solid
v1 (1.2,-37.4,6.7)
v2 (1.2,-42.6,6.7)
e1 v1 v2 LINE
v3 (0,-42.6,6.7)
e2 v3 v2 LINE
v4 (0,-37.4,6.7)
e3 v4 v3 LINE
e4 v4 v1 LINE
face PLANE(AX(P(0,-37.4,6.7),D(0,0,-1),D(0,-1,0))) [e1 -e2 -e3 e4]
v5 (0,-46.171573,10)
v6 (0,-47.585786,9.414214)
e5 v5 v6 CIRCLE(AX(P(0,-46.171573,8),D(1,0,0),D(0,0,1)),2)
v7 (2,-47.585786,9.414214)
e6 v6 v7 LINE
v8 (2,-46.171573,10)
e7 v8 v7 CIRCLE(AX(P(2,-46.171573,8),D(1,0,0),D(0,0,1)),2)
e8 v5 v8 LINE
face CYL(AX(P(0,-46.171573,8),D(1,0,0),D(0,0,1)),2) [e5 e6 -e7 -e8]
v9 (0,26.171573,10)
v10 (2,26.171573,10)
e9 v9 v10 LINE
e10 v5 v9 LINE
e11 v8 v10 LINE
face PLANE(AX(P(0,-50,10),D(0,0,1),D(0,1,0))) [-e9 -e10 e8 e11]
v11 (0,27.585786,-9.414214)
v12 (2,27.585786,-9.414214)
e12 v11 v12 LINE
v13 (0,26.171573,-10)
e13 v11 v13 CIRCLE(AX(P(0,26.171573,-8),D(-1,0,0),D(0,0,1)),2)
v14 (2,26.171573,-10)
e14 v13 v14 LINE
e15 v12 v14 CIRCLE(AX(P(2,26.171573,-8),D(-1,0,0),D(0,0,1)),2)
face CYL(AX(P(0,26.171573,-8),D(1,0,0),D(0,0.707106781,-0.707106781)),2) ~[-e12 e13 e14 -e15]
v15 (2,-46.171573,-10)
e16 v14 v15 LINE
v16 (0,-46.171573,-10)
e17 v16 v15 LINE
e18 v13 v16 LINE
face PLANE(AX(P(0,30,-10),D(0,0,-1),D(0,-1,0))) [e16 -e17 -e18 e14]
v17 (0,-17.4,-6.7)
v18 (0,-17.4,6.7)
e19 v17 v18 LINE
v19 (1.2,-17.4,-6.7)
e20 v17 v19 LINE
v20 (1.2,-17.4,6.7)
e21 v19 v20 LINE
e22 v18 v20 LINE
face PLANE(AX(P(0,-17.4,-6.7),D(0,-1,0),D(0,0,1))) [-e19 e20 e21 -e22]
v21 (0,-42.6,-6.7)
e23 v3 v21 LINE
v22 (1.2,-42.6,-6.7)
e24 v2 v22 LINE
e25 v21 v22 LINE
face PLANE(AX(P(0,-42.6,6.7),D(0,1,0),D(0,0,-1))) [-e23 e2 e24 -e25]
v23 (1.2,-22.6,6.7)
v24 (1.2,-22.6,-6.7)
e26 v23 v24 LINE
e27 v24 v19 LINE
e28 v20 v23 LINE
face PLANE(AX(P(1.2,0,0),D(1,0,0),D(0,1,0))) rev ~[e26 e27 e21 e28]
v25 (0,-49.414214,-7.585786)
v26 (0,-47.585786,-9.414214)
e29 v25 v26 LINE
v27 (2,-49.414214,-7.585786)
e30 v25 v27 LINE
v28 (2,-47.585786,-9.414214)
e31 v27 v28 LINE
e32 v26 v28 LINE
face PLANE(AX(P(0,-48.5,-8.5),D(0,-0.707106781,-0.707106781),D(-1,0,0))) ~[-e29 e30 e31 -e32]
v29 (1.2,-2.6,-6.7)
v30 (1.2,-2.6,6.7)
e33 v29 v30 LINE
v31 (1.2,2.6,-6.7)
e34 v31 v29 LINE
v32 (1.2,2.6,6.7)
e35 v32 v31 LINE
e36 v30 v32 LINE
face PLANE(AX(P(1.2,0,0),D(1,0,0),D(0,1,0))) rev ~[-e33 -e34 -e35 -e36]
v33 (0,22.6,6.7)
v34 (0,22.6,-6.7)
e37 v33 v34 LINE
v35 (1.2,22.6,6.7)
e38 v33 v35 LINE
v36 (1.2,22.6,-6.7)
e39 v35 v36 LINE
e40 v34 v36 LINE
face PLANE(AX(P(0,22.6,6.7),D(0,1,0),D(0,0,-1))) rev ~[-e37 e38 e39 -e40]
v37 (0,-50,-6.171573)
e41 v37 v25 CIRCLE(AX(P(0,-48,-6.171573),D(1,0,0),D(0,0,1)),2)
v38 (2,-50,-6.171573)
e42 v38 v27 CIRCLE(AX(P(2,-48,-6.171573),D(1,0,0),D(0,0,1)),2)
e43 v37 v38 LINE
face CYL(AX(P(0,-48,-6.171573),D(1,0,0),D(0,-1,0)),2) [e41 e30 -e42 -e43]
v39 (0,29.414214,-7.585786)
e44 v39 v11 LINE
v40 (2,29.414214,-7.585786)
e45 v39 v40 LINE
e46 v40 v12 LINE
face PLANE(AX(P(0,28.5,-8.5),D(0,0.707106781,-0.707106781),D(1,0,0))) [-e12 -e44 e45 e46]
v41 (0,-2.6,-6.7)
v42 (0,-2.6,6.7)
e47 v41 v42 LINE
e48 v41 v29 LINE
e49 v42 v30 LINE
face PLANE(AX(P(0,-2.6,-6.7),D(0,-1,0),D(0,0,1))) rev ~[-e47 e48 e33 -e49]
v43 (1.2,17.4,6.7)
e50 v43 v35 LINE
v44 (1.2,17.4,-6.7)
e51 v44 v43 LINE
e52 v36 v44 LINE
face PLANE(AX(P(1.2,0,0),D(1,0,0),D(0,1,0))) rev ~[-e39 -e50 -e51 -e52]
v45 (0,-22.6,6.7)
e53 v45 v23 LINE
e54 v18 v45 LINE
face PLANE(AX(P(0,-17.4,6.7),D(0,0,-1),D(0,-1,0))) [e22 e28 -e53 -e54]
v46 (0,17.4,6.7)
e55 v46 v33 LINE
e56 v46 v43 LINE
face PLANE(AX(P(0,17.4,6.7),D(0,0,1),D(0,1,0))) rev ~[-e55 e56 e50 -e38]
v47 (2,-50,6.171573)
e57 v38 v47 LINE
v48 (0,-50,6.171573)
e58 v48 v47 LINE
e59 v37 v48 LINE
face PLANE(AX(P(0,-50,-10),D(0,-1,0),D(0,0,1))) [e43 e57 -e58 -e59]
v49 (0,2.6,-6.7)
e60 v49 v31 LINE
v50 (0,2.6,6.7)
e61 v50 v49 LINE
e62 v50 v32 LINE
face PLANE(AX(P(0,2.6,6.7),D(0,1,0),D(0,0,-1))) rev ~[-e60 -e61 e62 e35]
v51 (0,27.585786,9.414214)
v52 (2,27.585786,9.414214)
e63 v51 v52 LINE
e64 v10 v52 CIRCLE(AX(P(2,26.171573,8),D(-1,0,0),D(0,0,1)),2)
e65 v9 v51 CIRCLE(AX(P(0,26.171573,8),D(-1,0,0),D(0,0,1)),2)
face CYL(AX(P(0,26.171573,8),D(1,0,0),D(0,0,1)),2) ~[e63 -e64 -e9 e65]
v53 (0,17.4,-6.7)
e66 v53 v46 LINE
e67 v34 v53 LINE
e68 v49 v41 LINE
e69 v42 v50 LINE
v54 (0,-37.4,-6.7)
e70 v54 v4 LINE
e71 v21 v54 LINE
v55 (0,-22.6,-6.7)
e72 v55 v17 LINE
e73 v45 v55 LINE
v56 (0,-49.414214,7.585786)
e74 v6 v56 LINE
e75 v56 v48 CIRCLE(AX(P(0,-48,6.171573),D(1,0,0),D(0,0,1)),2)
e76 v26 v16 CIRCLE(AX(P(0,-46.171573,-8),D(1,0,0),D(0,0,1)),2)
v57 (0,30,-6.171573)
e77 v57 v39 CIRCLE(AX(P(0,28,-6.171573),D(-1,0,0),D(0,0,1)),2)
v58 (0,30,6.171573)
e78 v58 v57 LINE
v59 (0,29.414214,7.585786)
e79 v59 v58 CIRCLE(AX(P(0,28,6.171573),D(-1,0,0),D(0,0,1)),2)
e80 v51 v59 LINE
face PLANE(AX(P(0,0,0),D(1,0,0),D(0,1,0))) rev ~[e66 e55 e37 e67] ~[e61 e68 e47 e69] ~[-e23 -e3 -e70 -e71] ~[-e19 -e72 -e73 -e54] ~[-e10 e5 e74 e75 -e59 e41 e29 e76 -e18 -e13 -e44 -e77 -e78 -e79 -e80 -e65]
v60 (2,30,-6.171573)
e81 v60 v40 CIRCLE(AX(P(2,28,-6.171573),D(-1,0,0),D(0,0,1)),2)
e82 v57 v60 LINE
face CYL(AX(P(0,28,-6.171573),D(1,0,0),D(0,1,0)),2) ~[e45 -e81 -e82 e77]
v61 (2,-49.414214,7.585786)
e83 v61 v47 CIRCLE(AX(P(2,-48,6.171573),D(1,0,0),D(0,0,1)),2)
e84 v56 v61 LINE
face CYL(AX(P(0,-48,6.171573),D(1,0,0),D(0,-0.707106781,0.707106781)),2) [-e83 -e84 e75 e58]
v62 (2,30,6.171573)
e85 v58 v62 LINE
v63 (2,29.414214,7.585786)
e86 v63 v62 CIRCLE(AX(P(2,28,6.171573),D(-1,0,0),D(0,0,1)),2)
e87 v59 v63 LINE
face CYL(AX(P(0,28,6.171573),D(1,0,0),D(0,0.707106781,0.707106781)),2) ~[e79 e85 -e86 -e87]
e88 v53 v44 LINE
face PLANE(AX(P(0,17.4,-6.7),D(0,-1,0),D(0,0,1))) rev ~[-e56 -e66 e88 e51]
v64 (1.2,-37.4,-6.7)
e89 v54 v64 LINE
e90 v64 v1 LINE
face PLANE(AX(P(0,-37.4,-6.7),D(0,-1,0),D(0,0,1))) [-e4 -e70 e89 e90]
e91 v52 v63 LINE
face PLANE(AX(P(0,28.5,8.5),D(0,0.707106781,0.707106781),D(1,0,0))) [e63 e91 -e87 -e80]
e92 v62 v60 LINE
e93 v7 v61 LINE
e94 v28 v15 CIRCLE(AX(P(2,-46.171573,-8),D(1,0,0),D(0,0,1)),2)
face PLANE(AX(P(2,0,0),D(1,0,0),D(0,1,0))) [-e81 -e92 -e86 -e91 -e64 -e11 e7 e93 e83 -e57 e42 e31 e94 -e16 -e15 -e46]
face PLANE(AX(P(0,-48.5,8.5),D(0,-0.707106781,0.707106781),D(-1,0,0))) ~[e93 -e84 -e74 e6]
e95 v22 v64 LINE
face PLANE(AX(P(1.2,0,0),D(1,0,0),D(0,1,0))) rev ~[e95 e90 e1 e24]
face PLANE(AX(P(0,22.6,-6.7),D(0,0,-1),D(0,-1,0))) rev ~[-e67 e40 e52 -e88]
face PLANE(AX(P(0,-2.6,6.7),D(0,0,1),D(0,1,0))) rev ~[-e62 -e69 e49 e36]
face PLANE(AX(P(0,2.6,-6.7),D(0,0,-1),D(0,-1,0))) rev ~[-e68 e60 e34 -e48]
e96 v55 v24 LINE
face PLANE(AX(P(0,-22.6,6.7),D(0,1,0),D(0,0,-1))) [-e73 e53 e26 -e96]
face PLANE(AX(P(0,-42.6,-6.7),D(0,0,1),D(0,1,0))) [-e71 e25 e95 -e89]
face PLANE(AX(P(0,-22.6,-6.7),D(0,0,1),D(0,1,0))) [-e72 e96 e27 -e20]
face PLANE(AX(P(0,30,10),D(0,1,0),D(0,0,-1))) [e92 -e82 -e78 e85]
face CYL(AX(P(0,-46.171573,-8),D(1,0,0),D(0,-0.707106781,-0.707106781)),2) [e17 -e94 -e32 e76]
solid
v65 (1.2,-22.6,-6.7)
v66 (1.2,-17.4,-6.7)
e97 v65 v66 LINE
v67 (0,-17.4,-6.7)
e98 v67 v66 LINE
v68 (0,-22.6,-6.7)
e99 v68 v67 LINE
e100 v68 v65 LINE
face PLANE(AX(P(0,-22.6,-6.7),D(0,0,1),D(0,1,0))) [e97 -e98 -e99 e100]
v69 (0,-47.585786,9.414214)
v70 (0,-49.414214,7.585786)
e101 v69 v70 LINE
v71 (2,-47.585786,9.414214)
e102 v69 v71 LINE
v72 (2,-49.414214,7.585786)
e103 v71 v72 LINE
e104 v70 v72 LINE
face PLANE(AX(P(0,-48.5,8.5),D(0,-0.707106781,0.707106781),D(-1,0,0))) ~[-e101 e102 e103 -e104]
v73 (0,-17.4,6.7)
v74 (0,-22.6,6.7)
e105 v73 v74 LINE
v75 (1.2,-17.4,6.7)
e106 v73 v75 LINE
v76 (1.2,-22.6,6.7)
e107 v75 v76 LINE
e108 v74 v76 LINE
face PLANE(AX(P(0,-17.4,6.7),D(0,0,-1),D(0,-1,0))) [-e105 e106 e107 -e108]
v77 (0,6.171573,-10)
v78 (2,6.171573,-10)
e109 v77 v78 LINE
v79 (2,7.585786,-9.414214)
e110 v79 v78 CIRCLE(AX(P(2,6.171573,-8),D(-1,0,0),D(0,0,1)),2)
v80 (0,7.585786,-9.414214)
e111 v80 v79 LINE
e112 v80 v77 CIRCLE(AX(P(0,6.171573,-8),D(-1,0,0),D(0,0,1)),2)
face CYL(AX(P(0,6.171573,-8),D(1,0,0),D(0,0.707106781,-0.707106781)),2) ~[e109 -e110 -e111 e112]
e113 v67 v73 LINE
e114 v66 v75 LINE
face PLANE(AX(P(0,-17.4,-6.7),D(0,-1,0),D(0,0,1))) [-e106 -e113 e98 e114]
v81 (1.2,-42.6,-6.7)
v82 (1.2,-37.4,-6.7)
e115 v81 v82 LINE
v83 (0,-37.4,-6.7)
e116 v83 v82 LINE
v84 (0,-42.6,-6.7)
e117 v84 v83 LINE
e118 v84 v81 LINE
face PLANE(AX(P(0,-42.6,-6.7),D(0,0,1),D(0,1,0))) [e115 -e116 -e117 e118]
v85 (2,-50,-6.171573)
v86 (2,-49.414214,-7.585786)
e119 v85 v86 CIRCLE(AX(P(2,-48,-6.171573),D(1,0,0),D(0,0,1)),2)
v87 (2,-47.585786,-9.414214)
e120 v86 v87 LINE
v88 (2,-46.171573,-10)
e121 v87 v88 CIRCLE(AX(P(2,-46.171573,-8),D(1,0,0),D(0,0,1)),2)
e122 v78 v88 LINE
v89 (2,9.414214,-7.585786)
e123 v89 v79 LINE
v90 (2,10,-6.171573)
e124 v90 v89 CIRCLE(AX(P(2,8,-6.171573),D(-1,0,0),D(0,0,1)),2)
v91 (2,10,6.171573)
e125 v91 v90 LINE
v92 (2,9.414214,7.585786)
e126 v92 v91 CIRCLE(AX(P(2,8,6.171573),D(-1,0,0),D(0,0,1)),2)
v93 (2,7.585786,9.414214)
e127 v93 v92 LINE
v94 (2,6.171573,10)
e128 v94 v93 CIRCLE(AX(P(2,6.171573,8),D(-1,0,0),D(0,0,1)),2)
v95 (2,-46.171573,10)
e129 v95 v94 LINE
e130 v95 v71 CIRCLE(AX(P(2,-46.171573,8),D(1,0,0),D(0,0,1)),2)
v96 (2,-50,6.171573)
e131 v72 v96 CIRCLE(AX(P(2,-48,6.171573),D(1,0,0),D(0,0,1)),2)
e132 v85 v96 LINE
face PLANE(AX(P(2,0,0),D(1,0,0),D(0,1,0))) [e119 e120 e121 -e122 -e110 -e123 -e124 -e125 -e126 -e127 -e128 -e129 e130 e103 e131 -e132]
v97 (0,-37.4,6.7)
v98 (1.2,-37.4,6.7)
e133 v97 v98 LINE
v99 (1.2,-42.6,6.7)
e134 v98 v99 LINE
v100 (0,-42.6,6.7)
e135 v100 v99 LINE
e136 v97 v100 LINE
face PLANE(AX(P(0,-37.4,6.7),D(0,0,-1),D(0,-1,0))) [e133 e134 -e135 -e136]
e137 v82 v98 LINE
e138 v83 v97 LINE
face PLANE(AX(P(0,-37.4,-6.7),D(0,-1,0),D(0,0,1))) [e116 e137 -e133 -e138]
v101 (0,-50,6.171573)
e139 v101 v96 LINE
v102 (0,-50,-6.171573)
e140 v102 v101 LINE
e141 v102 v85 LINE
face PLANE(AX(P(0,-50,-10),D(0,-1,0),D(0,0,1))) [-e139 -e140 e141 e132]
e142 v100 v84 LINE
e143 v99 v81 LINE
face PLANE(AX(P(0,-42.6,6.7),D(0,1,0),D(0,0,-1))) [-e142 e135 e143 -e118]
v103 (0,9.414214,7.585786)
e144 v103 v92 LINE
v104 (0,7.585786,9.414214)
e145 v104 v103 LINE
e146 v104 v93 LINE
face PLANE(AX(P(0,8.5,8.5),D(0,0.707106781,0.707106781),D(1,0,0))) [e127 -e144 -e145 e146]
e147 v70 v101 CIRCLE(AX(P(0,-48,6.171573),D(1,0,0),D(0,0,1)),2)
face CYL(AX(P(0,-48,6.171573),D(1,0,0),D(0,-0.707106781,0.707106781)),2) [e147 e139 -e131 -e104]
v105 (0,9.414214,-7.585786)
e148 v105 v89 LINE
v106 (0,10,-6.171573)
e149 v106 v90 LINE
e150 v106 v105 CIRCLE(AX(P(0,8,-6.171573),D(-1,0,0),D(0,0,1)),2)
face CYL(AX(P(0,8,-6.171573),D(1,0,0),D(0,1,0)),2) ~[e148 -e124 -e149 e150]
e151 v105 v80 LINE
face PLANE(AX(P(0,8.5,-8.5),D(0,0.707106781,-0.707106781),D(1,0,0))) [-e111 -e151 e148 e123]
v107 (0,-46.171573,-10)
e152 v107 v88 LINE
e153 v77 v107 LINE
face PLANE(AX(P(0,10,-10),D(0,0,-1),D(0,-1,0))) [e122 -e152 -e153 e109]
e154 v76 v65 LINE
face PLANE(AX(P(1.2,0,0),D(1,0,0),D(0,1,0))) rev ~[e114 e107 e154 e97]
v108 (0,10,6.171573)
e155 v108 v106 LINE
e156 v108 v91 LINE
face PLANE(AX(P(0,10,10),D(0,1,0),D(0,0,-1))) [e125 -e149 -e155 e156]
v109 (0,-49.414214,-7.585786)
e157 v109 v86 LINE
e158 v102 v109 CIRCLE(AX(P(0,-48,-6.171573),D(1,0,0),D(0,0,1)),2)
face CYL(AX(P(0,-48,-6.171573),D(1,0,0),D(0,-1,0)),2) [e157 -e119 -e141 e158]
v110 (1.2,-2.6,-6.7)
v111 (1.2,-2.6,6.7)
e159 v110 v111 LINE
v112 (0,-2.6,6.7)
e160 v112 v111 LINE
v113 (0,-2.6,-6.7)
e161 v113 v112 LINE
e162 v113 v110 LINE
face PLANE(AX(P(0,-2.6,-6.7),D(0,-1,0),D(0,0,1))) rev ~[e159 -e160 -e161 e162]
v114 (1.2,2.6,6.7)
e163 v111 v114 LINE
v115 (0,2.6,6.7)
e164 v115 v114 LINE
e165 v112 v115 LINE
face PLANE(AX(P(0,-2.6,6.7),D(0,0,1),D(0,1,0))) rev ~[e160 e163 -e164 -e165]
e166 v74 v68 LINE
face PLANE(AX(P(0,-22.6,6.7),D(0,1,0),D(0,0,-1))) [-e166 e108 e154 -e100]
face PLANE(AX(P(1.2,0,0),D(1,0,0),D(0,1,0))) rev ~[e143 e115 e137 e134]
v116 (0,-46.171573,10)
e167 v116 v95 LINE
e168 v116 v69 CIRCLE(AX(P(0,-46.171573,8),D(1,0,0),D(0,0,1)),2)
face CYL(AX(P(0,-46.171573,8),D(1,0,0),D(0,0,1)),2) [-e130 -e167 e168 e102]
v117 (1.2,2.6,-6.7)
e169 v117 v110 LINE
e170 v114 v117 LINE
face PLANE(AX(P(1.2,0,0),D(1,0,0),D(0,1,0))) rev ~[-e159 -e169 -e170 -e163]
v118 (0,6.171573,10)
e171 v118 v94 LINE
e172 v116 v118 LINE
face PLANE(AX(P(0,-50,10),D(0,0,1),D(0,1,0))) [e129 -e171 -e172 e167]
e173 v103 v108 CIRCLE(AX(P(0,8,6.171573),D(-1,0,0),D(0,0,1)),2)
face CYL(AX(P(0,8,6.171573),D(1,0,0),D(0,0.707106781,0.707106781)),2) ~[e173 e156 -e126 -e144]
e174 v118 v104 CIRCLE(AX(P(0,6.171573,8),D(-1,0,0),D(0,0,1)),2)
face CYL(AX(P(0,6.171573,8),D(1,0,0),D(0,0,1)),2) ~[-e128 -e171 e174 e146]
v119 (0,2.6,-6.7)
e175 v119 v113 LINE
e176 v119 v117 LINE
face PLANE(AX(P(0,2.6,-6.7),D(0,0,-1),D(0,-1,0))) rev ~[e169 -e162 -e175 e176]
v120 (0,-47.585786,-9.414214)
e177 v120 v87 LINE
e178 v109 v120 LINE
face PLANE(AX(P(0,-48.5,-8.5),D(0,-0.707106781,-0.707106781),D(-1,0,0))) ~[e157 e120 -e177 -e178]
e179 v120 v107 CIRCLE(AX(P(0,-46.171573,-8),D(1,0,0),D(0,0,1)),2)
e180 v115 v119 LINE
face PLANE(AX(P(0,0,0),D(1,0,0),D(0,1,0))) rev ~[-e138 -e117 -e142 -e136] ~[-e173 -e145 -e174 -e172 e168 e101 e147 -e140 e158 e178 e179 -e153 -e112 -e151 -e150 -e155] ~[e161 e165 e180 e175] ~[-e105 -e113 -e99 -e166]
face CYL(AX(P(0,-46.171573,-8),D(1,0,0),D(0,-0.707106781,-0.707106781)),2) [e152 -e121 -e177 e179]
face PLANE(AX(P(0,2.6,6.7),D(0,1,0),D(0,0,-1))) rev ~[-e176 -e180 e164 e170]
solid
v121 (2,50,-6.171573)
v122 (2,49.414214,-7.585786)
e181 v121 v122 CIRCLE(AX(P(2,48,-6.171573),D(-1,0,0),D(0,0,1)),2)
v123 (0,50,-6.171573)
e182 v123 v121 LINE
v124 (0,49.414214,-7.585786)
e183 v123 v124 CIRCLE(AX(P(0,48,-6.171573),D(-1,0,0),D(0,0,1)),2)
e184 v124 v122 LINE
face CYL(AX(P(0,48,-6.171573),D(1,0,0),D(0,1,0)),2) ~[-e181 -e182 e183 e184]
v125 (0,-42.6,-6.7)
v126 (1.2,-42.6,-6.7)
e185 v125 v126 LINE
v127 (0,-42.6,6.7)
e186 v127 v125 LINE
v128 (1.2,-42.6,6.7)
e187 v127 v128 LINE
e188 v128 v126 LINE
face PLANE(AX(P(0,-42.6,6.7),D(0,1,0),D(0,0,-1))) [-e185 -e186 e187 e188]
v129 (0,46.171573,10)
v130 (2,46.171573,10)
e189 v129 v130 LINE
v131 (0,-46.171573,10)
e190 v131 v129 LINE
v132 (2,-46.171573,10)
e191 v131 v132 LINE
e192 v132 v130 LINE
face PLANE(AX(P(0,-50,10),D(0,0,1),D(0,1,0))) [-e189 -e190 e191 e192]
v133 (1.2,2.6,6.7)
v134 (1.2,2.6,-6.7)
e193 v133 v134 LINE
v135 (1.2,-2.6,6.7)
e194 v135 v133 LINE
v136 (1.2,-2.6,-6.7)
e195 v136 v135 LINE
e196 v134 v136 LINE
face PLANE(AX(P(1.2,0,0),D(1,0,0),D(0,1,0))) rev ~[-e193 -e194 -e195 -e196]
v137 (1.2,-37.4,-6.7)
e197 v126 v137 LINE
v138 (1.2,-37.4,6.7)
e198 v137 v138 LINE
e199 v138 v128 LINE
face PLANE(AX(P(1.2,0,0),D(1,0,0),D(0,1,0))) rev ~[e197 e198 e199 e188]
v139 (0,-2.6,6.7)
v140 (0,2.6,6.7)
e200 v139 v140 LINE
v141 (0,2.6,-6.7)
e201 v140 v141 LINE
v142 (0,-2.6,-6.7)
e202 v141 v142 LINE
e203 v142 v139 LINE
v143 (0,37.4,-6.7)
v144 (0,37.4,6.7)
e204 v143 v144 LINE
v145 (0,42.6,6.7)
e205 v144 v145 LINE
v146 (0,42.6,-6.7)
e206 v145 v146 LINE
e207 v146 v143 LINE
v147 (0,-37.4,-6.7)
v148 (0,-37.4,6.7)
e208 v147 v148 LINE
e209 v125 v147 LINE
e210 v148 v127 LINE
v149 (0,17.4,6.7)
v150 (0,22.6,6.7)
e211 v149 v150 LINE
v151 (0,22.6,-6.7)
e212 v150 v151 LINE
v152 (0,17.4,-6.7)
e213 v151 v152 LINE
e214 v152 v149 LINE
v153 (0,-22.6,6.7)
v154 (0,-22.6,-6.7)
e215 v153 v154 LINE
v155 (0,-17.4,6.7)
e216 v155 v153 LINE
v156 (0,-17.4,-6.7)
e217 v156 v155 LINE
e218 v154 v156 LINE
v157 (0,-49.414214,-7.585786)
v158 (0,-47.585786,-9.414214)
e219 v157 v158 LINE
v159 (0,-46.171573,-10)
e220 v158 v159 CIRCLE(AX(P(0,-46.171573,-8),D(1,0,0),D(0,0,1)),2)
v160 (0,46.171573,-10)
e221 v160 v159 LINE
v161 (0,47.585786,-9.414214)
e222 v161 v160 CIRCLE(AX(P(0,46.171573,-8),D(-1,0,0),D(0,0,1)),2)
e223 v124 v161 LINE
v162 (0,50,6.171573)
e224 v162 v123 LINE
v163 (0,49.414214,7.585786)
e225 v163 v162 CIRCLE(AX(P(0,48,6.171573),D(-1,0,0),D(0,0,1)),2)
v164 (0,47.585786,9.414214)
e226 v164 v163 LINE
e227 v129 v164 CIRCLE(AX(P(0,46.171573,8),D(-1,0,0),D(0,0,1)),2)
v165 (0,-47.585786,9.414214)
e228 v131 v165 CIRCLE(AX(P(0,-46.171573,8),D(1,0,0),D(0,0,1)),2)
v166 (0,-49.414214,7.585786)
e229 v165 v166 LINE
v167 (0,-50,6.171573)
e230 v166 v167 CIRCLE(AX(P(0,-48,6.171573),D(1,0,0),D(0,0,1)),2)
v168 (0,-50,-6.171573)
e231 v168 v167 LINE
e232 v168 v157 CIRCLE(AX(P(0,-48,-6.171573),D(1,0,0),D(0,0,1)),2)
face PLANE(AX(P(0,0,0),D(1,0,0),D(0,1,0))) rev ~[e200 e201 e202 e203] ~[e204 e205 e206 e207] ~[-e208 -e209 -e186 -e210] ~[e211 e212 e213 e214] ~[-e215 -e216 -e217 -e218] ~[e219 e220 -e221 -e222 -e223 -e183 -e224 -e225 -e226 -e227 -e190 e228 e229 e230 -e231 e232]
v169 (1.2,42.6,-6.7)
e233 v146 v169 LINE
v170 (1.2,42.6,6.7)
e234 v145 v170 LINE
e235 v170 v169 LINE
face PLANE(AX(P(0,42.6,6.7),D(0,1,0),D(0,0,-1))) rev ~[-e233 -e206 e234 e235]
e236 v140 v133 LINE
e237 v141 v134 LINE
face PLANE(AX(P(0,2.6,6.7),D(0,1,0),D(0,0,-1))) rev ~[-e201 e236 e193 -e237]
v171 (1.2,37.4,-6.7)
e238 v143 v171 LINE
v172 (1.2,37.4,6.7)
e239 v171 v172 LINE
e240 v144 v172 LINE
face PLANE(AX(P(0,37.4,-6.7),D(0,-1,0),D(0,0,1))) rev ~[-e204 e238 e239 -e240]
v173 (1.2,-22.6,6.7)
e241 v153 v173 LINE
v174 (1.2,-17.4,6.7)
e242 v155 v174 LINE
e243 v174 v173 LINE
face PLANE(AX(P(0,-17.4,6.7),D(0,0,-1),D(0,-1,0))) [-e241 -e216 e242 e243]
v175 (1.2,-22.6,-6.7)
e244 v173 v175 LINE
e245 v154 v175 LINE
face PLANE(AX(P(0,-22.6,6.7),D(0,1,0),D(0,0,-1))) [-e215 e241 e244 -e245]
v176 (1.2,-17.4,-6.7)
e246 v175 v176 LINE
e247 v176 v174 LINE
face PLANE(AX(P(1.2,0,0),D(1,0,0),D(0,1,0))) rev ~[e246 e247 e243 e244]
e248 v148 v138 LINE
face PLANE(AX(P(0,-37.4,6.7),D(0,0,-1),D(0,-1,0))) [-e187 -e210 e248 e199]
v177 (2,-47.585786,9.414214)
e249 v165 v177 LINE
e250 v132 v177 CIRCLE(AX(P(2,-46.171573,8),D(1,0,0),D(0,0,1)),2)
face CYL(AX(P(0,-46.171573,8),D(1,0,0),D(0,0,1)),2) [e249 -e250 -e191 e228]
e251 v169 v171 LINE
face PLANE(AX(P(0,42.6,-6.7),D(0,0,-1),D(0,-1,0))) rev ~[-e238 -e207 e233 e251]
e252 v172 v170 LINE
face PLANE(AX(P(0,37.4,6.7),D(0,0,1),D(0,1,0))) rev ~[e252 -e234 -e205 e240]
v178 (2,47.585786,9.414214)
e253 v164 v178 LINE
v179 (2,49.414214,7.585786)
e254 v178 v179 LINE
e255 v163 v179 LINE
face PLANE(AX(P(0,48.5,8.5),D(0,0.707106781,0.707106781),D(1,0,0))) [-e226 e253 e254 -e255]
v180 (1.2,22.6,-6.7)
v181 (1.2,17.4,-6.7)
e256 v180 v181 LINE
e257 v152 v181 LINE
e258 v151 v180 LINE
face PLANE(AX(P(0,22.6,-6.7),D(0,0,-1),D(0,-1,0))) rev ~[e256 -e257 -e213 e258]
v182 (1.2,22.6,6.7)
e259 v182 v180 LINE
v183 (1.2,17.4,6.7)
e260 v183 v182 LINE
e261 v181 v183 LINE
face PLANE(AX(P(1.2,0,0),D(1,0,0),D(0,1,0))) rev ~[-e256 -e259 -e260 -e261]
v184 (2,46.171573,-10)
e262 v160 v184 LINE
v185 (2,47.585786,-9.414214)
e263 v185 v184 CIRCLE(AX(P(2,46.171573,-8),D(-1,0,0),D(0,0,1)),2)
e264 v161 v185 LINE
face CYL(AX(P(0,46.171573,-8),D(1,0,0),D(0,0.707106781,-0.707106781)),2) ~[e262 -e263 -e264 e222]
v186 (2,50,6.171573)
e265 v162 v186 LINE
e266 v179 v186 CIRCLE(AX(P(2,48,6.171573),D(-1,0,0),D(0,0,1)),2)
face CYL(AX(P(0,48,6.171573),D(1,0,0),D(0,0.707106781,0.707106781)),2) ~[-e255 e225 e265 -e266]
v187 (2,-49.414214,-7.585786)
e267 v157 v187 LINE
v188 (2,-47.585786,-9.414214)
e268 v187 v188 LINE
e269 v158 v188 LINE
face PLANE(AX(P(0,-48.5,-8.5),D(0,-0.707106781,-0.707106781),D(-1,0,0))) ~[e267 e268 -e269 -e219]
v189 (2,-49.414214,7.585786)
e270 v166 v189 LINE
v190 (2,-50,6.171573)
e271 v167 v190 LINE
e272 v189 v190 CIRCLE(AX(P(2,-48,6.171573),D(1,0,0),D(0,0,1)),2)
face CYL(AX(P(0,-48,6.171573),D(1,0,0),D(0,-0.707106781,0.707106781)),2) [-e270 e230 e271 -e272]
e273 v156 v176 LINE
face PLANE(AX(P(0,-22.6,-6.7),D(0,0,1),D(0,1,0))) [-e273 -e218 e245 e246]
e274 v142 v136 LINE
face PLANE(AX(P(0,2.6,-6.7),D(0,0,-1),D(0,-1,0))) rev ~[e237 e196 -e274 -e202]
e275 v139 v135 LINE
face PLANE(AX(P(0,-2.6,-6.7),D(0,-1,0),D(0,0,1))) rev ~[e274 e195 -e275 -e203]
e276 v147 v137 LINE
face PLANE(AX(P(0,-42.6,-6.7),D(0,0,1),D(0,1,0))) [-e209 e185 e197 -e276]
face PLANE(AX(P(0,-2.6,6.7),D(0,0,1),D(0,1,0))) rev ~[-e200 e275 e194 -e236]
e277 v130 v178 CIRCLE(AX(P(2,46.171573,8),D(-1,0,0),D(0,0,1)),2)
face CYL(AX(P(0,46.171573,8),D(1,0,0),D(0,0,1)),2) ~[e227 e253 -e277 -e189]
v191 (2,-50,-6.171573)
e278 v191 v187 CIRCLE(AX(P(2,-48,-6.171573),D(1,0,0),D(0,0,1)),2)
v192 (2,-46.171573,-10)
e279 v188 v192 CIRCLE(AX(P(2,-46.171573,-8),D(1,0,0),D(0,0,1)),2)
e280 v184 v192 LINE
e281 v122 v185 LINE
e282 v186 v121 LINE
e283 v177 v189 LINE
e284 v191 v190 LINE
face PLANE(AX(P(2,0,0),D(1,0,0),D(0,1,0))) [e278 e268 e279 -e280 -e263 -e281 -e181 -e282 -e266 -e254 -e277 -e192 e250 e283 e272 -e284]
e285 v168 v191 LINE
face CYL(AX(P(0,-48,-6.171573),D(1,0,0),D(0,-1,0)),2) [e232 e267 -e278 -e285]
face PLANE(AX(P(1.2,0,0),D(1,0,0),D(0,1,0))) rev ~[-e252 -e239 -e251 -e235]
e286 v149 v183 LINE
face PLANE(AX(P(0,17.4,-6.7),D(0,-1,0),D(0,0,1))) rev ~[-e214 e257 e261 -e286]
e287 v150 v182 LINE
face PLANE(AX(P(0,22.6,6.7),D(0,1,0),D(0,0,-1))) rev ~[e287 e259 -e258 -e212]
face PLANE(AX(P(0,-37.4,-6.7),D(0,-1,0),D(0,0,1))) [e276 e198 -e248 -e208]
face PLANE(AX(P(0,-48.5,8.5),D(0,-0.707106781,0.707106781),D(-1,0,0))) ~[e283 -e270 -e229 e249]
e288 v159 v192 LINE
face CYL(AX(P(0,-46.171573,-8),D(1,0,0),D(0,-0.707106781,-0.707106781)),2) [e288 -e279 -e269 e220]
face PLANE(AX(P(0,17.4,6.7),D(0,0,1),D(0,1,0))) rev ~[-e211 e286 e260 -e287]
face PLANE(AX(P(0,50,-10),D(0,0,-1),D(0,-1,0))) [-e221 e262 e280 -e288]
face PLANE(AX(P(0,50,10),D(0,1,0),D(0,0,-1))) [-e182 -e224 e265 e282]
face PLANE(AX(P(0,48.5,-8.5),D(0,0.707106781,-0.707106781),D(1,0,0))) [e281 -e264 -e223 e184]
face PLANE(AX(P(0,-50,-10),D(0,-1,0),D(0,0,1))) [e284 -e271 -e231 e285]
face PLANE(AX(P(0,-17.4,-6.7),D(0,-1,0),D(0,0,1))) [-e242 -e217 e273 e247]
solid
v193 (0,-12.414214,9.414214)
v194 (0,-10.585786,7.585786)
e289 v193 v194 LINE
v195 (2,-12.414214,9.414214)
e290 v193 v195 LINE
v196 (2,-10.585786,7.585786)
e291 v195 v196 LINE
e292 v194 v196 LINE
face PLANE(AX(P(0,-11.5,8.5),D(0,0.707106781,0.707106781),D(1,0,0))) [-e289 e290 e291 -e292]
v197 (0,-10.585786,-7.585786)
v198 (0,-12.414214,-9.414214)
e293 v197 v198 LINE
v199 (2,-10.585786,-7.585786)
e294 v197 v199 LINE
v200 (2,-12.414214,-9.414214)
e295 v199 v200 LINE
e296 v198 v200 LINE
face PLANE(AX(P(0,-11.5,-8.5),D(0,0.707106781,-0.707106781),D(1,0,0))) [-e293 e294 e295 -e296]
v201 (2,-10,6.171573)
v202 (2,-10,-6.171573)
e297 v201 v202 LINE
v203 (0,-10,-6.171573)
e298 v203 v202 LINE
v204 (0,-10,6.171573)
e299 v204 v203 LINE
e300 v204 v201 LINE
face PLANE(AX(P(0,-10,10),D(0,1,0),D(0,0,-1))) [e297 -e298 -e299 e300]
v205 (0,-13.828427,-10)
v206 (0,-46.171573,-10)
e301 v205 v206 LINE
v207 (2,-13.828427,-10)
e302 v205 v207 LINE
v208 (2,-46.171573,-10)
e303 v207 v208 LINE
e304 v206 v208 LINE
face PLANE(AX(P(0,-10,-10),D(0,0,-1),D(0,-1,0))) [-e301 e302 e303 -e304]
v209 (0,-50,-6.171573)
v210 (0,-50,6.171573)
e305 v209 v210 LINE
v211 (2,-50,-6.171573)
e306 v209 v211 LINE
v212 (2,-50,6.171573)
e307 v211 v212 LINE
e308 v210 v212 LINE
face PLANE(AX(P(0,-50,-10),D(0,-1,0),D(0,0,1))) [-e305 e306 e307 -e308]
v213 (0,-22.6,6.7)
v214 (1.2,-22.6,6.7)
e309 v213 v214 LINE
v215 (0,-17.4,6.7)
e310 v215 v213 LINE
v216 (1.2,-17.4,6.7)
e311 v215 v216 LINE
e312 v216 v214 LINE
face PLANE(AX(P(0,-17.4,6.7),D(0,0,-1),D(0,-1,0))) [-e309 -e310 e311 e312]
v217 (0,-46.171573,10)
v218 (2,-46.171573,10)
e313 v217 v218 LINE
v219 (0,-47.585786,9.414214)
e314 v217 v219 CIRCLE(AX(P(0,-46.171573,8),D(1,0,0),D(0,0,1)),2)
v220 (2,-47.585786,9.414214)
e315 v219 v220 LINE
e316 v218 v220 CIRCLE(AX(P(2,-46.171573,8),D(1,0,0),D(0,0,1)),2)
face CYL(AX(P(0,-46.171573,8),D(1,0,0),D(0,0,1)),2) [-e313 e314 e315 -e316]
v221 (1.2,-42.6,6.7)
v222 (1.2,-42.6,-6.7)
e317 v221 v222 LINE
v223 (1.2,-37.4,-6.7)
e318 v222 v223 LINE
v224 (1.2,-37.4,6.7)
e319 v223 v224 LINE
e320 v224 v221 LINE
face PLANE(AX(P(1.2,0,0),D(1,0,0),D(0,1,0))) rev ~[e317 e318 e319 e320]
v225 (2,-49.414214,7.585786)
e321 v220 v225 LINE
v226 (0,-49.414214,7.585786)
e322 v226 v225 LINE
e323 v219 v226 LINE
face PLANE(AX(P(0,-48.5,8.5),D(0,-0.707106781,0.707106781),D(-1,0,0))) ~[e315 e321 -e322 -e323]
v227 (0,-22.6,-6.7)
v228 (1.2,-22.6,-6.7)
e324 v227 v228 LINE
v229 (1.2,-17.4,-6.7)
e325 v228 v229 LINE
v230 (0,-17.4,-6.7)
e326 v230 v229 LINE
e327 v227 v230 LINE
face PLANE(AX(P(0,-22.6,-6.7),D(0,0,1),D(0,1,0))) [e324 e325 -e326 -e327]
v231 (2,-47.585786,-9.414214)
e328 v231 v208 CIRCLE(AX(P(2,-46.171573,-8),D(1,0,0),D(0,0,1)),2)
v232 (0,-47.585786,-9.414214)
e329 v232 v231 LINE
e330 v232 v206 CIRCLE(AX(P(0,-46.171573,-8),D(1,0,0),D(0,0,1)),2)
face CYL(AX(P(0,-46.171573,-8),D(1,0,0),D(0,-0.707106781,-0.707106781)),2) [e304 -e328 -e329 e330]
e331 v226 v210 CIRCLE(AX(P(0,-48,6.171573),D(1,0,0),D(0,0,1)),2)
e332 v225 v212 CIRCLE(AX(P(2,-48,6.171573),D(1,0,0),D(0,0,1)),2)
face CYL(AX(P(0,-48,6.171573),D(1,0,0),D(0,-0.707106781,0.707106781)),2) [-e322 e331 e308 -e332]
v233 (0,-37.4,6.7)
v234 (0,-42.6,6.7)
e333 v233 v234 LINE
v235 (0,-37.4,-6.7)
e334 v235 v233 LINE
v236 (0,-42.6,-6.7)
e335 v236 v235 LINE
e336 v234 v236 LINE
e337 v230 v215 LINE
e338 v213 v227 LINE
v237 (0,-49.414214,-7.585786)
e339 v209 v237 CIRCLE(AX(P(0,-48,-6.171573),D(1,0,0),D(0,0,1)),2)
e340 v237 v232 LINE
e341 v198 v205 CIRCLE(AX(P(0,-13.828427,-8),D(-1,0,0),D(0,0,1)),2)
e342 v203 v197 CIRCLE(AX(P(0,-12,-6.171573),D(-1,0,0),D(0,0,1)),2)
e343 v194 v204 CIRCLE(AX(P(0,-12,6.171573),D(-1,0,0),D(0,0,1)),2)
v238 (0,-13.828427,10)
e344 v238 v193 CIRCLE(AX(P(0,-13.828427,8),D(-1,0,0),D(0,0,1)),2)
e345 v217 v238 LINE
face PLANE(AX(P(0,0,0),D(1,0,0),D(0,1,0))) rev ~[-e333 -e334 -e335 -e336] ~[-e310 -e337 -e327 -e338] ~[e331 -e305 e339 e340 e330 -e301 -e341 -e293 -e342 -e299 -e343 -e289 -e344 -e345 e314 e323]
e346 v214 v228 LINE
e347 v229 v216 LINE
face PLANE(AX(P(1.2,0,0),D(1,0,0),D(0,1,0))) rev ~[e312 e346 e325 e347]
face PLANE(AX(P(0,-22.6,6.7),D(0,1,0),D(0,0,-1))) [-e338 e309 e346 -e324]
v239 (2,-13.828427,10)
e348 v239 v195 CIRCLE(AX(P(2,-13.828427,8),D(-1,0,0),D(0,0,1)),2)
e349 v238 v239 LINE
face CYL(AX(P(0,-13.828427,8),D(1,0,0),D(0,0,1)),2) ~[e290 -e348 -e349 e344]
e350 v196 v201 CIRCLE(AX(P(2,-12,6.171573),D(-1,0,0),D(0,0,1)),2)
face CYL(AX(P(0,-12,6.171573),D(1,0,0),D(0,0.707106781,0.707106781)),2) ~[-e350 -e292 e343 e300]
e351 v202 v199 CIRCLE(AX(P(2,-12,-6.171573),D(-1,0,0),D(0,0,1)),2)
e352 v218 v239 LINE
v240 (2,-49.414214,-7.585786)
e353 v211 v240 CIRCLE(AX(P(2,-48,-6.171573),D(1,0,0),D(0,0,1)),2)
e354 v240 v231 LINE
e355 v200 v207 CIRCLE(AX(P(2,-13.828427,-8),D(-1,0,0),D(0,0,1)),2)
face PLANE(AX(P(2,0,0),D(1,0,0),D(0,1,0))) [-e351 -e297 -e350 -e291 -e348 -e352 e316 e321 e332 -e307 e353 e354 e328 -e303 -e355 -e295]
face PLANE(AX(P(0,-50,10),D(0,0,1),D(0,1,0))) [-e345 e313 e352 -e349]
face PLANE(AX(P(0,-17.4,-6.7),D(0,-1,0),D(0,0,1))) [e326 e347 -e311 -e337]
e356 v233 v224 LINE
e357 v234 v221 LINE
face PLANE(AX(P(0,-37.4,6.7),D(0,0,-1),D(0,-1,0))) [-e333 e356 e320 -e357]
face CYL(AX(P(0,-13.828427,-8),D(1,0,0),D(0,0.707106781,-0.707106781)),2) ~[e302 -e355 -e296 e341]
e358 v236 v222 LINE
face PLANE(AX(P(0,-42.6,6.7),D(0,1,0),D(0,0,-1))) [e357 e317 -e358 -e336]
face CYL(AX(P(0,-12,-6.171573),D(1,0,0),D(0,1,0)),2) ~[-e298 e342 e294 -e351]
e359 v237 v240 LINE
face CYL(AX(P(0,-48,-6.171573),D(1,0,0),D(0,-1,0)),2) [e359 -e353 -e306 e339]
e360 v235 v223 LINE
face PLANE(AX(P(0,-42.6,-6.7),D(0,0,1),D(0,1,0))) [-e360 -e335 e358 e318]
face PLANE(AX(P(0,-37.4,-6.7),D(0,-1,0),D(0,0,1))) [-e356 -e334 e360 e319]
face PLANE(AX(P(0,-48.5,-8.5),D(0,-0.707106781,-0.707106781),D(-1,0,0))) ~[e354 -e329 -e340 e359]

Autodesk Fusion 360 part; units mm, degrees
sketch "SlotLayout" plane through (0, 0, 0) normal (1, 0, 0) x (0, 1, 0)
  line L0 (-22.4, 25) -> (-22.4, 15)
  line L1 (82.4, 5) -> (82.4, -5)
  line L2 (-37.6, -5) -> (-37.6, 5)
  line L3 (-80, 5) -> (-80, -5) construction
  line L4 (-97.6, 15) -> (-97.6, 25)
  line L5 (2.4, -5) -> (2.4, 5)
  arc A0 (-77.6, 5) -> (-82.4, 5) centre (-80, 5) ccw
  arc A1 (22.4, 25) -> (17.6, 25) centre (20, 25) ccw
  arc A2 (-97.6, 25) -> (-102.4, 25) centre (-100, 25) ccw
  arc A3 (97.6, 15) -> (102.4, 15) centre (100, 15) ccw
  line L6 (-60, 25) -> (-60, 15) construction
  line L7 (-77.6, -5) -> (-77.6, 5)
  arc A4 (77.6, -5) -> (82.4, -5) centre (80, -5) ccw
  line L8 (-40, 5) -> (-40, -5) construction
  line L9 (-57.6, 15) -> (-57.6, 25)
  line L10 (-62.4, 25) -> (-62.4, 15)
  line L11 (-102.4, 25) -> (-102.4, 15)
  line L12 (97.6, 15) -> (97.6, 25)
  arc A5 (-102.4, 15) -> (-97.6, 15) centre (-100, 15) ccw
  line L13 (20, 25) -> (20, 15) construction
  line L14 (22.4, 25) -> (22.4, 15)
  line L15 (-80, 0) -> (0, 0) construction
  line L16 (62.4, 25) -> (62.4, 15)
  line L17 (42.4, 5) -> (42.4, -5)
  arc A6 (2.5, 5) -> (-2.5, 5) centre (0, 5) ccw
  arc A7 (2.4, 5) -> (-2.4, 5) centre (0, 5) ccw
  line L18 (80, 5) -> (80, -5) construction
  arc A8 (82.4, 5) -> (77.6, 5) centre (80, 5) ccw
  arc A9 (-2.5, -5) -> (2.5, -5) centre (0, -5) ccw
  arc A10 (57.6, 15) -> (62.4, 15) centre (60, 15) ccw
  arc A11 (62.4, 25) -> (57.6, 25) centre (60, 25) ccw
  line L19 (17.6, 15) -> (17.6, 25)
  line L20 (-20, 25) -> (-20, 15) construction
  line L21 (-42.4, 5) -> (-42.4, -5)
  line L22 (60, 25) -> (60, 15) construction
  arc A12 (42.4, 5) -> (37.6, 5) centre (40, 5) ccw
  line L23 (-100, 25) -> (-100, 15) construction
  line L24 (100, 25) -> (100, 15) construction
  arc A13 (-57.6, 25) -> (-62.4, 25) centre (-60, 25) ccw
  arc A14 (37.6, -5) -> (42.4, -5) centre (40, -5) ccw
  line L25 (40, 5) -> (40, -5) construction
  line L26 (-17.6, 15) -> (-17.6, 25)
  arc A15 (-17.6, 25) -> (-22.4, 25) centre (-20, 25) ccw
  line L27 (-82.4, 5) -> (-82.4, -5)
  line L28 (-2.5, 5) -> (-2.5, -5)
  line L29 (-2.4, 5) -> (-2.4, -5)
  line L30 (102.4, 25) -> (102.4, 15)
  arc A16 (17.6, 15) -> (22.4, 15) centre (20, 15) ccw
  arc A17 (-22.4, 15) -> (-17.6, 15) centre (-20, 15) ccw
  line L31 (37.6, -5) -> (37.6, 5)
  line L32 (0, 5) -> (0, -5) construction
  arc A18 (-62.4, 15) -> (-57.6, 15) centre (-60, 15) ccw
  arc A19 (-42.4, -5) -> (-37.6, -5) centre (-40, -5) ccw
  arc A20 (-2.4, -5) -> (2.4, -5) centre (0, -5) ccw
  arc A21 (102.4, 25) -> (97.6, 25) centre (100, 25) ccw
  arc A22 (-82.4, -5) -> (-77.6, -5) centre (-80, -5) ccw
  arc A23 (-37.6, 5) -> (-42.4, 5) centre (-40, 5) ccw
  line L33 (77.6, -5) -> (77.6, 5)
  line L34 (57.6, 15) -> (57.6, 25)
  line L35 (2.5, -5) -> (2.5, 5)
  point P0 (-20, 20)
  point P1 (-40, 0)
  dimension "d9" = -40
  dimension "d10" = 0
  dimension "d255" = 0.1
  dimension "d22" = 10
  dimension "d23" = 2.4
  dimension "d4" = 40
  dimension "d25" = 40
  dimension "d26" = 20
  dimension "d27" = 20
sketch "VerticalPrintKey" plane through (0, 0, 0) normal (1, 0, 0) x (0, 1, 0)
  line L0 (-2.6, 6.7) -> (2.6, 6.7)
  line L1 (2.6, 6.7) -> (2.6, -6.7)
  line L2 (2.6, -6.7) -> (-2.6, -6.7)
  line L3 (-2.6, -6.7) -> (-2.6, 6.7)
  line L4 (0, 6.7) -> (0, -6.7) construction
  circle A0 centre (0, 0) radius 1.6
  line L5 (2.6, 0) -> (20.8722, 0) construction
  line L6 (20.8722, 0) -> (11.7361, 9.1361) construction
  line L7 (11.7361, 9.1361) -> (11.7361, -9.1361) construction
  line L8 (11.7361, -9.1361) -> (20.8722, 0) construction
  dimension "d18" = 13.4
  dimension "d19" = 5.2
  dimension "d20" = 3.2
sketch "HorizontalPrintKey" plane through (0, 0, 0) normal (1, 0, 0) x (0, 1, 0)
  circle A0 centre (0, 0) radius 1.6
  line L0 (2.6, -6.7) -> (-2.6, -6.7)
  line L1 (-2.6, -6.7) -> (-2.6, 6.7)
  line L2 (-2.6, 6.7) -> (2.6, 6.7)
  line L3 (2.6, 6.7) -> (2.6, -6.7)
  line L4 (0, 6.7) -> (0, -6.7) construction
  line L5 (0, 6.7) -> (0, 23.5939) construction
  line L6 (0, 23.5939) -> (-8.4469, 15.1469) construction
  line L7 (-8.4469, 15.1469) -> (8.4469, 15.1469) construction
  line L8 (8.4469, 15.1469) -> (0, 23.5939) construction
  line L9 (17.4, -6.7) -> (17.4, 6.7)
  line L10 (17.4, 6.7) -> (22.6, 6.7)
  line L11 (22.6, -6.7) -> (17.4, -6.7)
  line L12 (22.6, 6.7) -> (22.6, -6.7)
  circle A1 centre (20, 0) radius 1.6
  line L13 (37.4, -6.7) -> (37.4, 6.7)
  line L14 (37.4, 6.7) -> (42.6, 6.7)
  line L15 (42.6, -6.7) -> (37.4, -6.7)
  line L16 (42.6, 6.7) -> (42.6, -6.7)
  circle A2 centre (40, 0) radius 1.6
  line L17 (-37.4, 6.7) -> (-42.6, 6.7)
  line L18 (-22.6, -6.7) -> (-17.4, -6.7)
  line L19 (-42.6, -6.7) -> (-37.4, -6.7)
  line L20 (-37.4, -6.7) -> (-37.4, 6.7)
  circle A3 centre (-40, 0) radius 1.6
  circle A4 centre (-20, 0) radius 1.6
  line L21 (-42.6, 6.7) -> (-42.6, -6.7)
  line L22 (-22.6, 6.7) -> (-22.6, -6.7)
  line L23 (-17.4, -6.7) -> (-17.4, 6.7)
  line L24 (-17.4, 6.7) -> (-22.6, 6.7)
  dimension "d21" = 13.4
  dimension "d24" = 5.2
  dimension "d28" = 3.2
  dimension "d32" = 20
  dimension "d33" = 0
sketch "Sketch1" plane through (0, 0, 0) normal (1, 0, 0) x (0, 1, 0) in component "LabelMount_100"
  line L0 (-50, 10) -> (50, 10)
  line L1 (50, 10) -> (50, -10)
  line L2 (50, -10) -> (-50, -10)
  line L3 (-50, -10) -> (-50, 10)
  line L4 (-50, 0) -> (50, 0) construction
  line L5 (0, 10) -> (0, -10) construction
  dimension "d34" = 20
  dimension "d35" = 100
extrude "Extrude1" add sketch "Sketch1" along normal blind 2 makes body 1 in component "LabelMount_100"
extrude "Extrude2" cut sketch "HorizontalPrintKey" along normal blind 1.2 contours A0 | L0 L1 L2 L3 | L9 L10 L11 L12 | A1 | L13 L14 L15 L16 | A2 | L17 L19 L20 L21 | L18 L22 L23 L24 | A3 | A4 bodies 1 in component "LabelMount_100"
chamfer "Chamfer1" distance 3 angle 45 4 edges at (1, -50, 10) (1, -50, -10) (1, 50, 10) (1, 50, -10) on bodies 1 in component "LabelMount_100"
fillet "Fillet1" radius 2 8 edges at (1, -50, 7) (1, -47, 10) (1, -50, -7) (1, -47, -10) (1, 47, 10) (1, 50, 7) (1, 50, -7) (1, 47, -10) on bodies 1 in component "LabelMount_100"
sketch "Sketch1 (2)" plane through (0, 0, 0) normal (1, 0, 0) x (0, 1, 0) in component "LabelMount_80"
  line L0 (-50, 10) -> (50, 10)
  line L1 (50, 10) -> (50, -10)
  line L2 (50, -10) -> (-50, -10)
  line L3 (-50, -10) -> (-50, 10)
  line L4 (-50, 0) -> (50, 0) construction
  line L5 (0, 10) -> (0, -10) construction
  line L6 (30, 10) -> (30, -10)
  dimension "d34_1" = 20
  dimension "d35_1" = 100
  dimension "d43" = 80
extrude "Extrude1'" add sketch "Sketch1 (2)" along normal blind 2 separate body contours L0 L2 L3 L6 makes body 2 in component "LabelMount_80"
extrude "Extrude2'" cut sketch "HorizontalPrintKey" along normal blind 1.2 contours A0 | L0 L1 L2 L3 | L9 L10 L11 L12 | A1 | L13 L14 L15 L16 | A2 | L17 L19 L20 L21 | L18 L22 L23 L24 | A3 | A4 bodies 2 in component "LabelMount_80"
chamfer "Chamfer1'" distance 3 angle 45 4 edges at (1, -50, 10) (1, -50, -10) (1, 30, 10) (1, 30, -10) on bodies 2 in component "LabelMount_80"
fillet "Fillet1'" radius 2 8 edges at (1, -50, 7) (1, -47, 10) (1, -50, -7) (1, -47, -10) (1, 27, 10) (1, 30, 7) (1, 30, -7) (1, 27, -10) on bodies 2 in component "LabelMount_80"
sketch "Sketch1 (3)" plane through (0, 0, 0) normal (1, 0, 0) x (0, 1, 0) in component "LabelMount_60"
  line L0 (-50, 10) -> (50, 10)
  line L1 (50, 10) -> (50, -10)
  line L2 (50, -10) -> (-50, -10)
  line L3 (-50, -10) -> (-50, 10)
  line L4 (-50, 0) -> (50, 0) construction
  line L5 (0, 10) -> (0, -10) construction
  line L6 (10, 10) -> (10, -10)
  dimension "d34_1_1" = 20
  dimension "d35_1_1" = 100
  dimension "d43_1" = 60
extrude "Extrude1''" add sketch "Sketch1 (3)" along normal blind 2 separate body contours L0 L2 L3 L6 makes body 3 in component "LabelMount_60"
extrude "Extrude2''" cut sketch "HorizontalPrintKey" along normal blind 1.2 contours A0 | L0 L1 L2 L3 | L9 L10 L11 L12 | A1 | L13 L14 L15 L16 | A2 | L17 L19 L20 L21 | L18 L22 L23 L24 | A3 | A4 bodies 3 in component "LabelMount_60"
chamfer "Chamfer1''" distance 3 angle 45 4 edges at (1, -50, 10) (1, -50, -10) (1, 10, 10) (1, 10, -10) on bodies 3 in component "LabelMount_60"
fillet "Fillet1''" radius 2 8 edges at (1, -50, 7) (1, -47, 10) (1, -50, -7) (1, -47, -10) (1, 7, 10) (1, 10, 7) (1, 10, -7) (1, 7, -10) on bodies 3 in component "LabelMount_60"
sketch "Sketch1 (4)" plane through (0, 0, 0) normal (1, 0, 0) x (0, 1, 0) in component "LabelMount_40"
  line L0 (-50, 10) -> (50, 10)
  line L1 (50, 10) -> (50, -10)
  line L2 (50, -10) -> (-50, -10)
  line L3 (-50, -10) -> (-50, 10)
  line L4 (-50, 0) -> (50, 0) construction
  line L5 (0, 10) -> (0, -10) construction
  line L6 (-10, 10) -> (-10, -10)
  dimension "d34_1_1_1" = 20
  dimension "d35_1_1_1" = 100
  dimension "d43_1_1" = 40
extrude "Extrude1'''" add sketch "Sketch1 (4)" along normal blind 2 separate body contours L0 L2 L3 L6 makes body 4 in component "LabelMount_40"
extrude "Extrude2'''" cut sketch "HorizontalPrintKey" along normal blind 1.2 contours A0 | L0 L1 L2 L3 | L9 L10 L11 L12 | A1 | L13 L14 L15 L16 | A2 | L17 L19 L20 L21 | L18 L22 L23 L24 | A3 | A4 bodies 4 in component "LabelMount_40"
chamfer "Chamfer1'''" distance 3 angle 45 4 edges at (1, -50, 10) (1, -50, -10) (1, -10, 10) (1, -10, -10) on bodies 4 in component "LabelMount_40"
fillet "Fillet1'''" radius 2 8 edges at (1, -50, 7) (1, -47, 10) (1, -50, -7) (1, -47, -10) (1, -13, 10) (1, -10, 7) (1, -10, -7) (1, -13, -10) on bodies 4 in component "LabelMount_40"
component "LabelMount_100" placed x (1, 0, 0) y (0, 1, 0) z (0, 0, 1) at (0, 0, 0)
component "LabelMount_80" placed x (1, 0, 0) y (0, 1, 0) z (0, 0, 1) at (0, 0, 0)
component "LabelMount_60" placed x (1, 0, 0) y (0, 1, 0) z (0, 0, 1) at (0, 0, 0)
component "LabelMount_40" placed x (1, 0, 0) y (0, 1, 0) z (0, 0, 1) at (0, 0, 0)
equation "XY_Tolerance = 0.2 mm"
equation "Z_Tolerance = 0.2 mm"
equation "Wall_Thickness = 0.4 mm"
equation "Layer_Height = 0.2 mm"
equation "M3Hole_wClearance = 3.2 mm"
equation "M3Hole_wSelfTapping = 2.8 mm"
equation "d20 = M3Hole_wClearance"
equation "d28 = M3Hole_wClearance"
equation "M3Hole_CounterSink = 1.8 mm"
